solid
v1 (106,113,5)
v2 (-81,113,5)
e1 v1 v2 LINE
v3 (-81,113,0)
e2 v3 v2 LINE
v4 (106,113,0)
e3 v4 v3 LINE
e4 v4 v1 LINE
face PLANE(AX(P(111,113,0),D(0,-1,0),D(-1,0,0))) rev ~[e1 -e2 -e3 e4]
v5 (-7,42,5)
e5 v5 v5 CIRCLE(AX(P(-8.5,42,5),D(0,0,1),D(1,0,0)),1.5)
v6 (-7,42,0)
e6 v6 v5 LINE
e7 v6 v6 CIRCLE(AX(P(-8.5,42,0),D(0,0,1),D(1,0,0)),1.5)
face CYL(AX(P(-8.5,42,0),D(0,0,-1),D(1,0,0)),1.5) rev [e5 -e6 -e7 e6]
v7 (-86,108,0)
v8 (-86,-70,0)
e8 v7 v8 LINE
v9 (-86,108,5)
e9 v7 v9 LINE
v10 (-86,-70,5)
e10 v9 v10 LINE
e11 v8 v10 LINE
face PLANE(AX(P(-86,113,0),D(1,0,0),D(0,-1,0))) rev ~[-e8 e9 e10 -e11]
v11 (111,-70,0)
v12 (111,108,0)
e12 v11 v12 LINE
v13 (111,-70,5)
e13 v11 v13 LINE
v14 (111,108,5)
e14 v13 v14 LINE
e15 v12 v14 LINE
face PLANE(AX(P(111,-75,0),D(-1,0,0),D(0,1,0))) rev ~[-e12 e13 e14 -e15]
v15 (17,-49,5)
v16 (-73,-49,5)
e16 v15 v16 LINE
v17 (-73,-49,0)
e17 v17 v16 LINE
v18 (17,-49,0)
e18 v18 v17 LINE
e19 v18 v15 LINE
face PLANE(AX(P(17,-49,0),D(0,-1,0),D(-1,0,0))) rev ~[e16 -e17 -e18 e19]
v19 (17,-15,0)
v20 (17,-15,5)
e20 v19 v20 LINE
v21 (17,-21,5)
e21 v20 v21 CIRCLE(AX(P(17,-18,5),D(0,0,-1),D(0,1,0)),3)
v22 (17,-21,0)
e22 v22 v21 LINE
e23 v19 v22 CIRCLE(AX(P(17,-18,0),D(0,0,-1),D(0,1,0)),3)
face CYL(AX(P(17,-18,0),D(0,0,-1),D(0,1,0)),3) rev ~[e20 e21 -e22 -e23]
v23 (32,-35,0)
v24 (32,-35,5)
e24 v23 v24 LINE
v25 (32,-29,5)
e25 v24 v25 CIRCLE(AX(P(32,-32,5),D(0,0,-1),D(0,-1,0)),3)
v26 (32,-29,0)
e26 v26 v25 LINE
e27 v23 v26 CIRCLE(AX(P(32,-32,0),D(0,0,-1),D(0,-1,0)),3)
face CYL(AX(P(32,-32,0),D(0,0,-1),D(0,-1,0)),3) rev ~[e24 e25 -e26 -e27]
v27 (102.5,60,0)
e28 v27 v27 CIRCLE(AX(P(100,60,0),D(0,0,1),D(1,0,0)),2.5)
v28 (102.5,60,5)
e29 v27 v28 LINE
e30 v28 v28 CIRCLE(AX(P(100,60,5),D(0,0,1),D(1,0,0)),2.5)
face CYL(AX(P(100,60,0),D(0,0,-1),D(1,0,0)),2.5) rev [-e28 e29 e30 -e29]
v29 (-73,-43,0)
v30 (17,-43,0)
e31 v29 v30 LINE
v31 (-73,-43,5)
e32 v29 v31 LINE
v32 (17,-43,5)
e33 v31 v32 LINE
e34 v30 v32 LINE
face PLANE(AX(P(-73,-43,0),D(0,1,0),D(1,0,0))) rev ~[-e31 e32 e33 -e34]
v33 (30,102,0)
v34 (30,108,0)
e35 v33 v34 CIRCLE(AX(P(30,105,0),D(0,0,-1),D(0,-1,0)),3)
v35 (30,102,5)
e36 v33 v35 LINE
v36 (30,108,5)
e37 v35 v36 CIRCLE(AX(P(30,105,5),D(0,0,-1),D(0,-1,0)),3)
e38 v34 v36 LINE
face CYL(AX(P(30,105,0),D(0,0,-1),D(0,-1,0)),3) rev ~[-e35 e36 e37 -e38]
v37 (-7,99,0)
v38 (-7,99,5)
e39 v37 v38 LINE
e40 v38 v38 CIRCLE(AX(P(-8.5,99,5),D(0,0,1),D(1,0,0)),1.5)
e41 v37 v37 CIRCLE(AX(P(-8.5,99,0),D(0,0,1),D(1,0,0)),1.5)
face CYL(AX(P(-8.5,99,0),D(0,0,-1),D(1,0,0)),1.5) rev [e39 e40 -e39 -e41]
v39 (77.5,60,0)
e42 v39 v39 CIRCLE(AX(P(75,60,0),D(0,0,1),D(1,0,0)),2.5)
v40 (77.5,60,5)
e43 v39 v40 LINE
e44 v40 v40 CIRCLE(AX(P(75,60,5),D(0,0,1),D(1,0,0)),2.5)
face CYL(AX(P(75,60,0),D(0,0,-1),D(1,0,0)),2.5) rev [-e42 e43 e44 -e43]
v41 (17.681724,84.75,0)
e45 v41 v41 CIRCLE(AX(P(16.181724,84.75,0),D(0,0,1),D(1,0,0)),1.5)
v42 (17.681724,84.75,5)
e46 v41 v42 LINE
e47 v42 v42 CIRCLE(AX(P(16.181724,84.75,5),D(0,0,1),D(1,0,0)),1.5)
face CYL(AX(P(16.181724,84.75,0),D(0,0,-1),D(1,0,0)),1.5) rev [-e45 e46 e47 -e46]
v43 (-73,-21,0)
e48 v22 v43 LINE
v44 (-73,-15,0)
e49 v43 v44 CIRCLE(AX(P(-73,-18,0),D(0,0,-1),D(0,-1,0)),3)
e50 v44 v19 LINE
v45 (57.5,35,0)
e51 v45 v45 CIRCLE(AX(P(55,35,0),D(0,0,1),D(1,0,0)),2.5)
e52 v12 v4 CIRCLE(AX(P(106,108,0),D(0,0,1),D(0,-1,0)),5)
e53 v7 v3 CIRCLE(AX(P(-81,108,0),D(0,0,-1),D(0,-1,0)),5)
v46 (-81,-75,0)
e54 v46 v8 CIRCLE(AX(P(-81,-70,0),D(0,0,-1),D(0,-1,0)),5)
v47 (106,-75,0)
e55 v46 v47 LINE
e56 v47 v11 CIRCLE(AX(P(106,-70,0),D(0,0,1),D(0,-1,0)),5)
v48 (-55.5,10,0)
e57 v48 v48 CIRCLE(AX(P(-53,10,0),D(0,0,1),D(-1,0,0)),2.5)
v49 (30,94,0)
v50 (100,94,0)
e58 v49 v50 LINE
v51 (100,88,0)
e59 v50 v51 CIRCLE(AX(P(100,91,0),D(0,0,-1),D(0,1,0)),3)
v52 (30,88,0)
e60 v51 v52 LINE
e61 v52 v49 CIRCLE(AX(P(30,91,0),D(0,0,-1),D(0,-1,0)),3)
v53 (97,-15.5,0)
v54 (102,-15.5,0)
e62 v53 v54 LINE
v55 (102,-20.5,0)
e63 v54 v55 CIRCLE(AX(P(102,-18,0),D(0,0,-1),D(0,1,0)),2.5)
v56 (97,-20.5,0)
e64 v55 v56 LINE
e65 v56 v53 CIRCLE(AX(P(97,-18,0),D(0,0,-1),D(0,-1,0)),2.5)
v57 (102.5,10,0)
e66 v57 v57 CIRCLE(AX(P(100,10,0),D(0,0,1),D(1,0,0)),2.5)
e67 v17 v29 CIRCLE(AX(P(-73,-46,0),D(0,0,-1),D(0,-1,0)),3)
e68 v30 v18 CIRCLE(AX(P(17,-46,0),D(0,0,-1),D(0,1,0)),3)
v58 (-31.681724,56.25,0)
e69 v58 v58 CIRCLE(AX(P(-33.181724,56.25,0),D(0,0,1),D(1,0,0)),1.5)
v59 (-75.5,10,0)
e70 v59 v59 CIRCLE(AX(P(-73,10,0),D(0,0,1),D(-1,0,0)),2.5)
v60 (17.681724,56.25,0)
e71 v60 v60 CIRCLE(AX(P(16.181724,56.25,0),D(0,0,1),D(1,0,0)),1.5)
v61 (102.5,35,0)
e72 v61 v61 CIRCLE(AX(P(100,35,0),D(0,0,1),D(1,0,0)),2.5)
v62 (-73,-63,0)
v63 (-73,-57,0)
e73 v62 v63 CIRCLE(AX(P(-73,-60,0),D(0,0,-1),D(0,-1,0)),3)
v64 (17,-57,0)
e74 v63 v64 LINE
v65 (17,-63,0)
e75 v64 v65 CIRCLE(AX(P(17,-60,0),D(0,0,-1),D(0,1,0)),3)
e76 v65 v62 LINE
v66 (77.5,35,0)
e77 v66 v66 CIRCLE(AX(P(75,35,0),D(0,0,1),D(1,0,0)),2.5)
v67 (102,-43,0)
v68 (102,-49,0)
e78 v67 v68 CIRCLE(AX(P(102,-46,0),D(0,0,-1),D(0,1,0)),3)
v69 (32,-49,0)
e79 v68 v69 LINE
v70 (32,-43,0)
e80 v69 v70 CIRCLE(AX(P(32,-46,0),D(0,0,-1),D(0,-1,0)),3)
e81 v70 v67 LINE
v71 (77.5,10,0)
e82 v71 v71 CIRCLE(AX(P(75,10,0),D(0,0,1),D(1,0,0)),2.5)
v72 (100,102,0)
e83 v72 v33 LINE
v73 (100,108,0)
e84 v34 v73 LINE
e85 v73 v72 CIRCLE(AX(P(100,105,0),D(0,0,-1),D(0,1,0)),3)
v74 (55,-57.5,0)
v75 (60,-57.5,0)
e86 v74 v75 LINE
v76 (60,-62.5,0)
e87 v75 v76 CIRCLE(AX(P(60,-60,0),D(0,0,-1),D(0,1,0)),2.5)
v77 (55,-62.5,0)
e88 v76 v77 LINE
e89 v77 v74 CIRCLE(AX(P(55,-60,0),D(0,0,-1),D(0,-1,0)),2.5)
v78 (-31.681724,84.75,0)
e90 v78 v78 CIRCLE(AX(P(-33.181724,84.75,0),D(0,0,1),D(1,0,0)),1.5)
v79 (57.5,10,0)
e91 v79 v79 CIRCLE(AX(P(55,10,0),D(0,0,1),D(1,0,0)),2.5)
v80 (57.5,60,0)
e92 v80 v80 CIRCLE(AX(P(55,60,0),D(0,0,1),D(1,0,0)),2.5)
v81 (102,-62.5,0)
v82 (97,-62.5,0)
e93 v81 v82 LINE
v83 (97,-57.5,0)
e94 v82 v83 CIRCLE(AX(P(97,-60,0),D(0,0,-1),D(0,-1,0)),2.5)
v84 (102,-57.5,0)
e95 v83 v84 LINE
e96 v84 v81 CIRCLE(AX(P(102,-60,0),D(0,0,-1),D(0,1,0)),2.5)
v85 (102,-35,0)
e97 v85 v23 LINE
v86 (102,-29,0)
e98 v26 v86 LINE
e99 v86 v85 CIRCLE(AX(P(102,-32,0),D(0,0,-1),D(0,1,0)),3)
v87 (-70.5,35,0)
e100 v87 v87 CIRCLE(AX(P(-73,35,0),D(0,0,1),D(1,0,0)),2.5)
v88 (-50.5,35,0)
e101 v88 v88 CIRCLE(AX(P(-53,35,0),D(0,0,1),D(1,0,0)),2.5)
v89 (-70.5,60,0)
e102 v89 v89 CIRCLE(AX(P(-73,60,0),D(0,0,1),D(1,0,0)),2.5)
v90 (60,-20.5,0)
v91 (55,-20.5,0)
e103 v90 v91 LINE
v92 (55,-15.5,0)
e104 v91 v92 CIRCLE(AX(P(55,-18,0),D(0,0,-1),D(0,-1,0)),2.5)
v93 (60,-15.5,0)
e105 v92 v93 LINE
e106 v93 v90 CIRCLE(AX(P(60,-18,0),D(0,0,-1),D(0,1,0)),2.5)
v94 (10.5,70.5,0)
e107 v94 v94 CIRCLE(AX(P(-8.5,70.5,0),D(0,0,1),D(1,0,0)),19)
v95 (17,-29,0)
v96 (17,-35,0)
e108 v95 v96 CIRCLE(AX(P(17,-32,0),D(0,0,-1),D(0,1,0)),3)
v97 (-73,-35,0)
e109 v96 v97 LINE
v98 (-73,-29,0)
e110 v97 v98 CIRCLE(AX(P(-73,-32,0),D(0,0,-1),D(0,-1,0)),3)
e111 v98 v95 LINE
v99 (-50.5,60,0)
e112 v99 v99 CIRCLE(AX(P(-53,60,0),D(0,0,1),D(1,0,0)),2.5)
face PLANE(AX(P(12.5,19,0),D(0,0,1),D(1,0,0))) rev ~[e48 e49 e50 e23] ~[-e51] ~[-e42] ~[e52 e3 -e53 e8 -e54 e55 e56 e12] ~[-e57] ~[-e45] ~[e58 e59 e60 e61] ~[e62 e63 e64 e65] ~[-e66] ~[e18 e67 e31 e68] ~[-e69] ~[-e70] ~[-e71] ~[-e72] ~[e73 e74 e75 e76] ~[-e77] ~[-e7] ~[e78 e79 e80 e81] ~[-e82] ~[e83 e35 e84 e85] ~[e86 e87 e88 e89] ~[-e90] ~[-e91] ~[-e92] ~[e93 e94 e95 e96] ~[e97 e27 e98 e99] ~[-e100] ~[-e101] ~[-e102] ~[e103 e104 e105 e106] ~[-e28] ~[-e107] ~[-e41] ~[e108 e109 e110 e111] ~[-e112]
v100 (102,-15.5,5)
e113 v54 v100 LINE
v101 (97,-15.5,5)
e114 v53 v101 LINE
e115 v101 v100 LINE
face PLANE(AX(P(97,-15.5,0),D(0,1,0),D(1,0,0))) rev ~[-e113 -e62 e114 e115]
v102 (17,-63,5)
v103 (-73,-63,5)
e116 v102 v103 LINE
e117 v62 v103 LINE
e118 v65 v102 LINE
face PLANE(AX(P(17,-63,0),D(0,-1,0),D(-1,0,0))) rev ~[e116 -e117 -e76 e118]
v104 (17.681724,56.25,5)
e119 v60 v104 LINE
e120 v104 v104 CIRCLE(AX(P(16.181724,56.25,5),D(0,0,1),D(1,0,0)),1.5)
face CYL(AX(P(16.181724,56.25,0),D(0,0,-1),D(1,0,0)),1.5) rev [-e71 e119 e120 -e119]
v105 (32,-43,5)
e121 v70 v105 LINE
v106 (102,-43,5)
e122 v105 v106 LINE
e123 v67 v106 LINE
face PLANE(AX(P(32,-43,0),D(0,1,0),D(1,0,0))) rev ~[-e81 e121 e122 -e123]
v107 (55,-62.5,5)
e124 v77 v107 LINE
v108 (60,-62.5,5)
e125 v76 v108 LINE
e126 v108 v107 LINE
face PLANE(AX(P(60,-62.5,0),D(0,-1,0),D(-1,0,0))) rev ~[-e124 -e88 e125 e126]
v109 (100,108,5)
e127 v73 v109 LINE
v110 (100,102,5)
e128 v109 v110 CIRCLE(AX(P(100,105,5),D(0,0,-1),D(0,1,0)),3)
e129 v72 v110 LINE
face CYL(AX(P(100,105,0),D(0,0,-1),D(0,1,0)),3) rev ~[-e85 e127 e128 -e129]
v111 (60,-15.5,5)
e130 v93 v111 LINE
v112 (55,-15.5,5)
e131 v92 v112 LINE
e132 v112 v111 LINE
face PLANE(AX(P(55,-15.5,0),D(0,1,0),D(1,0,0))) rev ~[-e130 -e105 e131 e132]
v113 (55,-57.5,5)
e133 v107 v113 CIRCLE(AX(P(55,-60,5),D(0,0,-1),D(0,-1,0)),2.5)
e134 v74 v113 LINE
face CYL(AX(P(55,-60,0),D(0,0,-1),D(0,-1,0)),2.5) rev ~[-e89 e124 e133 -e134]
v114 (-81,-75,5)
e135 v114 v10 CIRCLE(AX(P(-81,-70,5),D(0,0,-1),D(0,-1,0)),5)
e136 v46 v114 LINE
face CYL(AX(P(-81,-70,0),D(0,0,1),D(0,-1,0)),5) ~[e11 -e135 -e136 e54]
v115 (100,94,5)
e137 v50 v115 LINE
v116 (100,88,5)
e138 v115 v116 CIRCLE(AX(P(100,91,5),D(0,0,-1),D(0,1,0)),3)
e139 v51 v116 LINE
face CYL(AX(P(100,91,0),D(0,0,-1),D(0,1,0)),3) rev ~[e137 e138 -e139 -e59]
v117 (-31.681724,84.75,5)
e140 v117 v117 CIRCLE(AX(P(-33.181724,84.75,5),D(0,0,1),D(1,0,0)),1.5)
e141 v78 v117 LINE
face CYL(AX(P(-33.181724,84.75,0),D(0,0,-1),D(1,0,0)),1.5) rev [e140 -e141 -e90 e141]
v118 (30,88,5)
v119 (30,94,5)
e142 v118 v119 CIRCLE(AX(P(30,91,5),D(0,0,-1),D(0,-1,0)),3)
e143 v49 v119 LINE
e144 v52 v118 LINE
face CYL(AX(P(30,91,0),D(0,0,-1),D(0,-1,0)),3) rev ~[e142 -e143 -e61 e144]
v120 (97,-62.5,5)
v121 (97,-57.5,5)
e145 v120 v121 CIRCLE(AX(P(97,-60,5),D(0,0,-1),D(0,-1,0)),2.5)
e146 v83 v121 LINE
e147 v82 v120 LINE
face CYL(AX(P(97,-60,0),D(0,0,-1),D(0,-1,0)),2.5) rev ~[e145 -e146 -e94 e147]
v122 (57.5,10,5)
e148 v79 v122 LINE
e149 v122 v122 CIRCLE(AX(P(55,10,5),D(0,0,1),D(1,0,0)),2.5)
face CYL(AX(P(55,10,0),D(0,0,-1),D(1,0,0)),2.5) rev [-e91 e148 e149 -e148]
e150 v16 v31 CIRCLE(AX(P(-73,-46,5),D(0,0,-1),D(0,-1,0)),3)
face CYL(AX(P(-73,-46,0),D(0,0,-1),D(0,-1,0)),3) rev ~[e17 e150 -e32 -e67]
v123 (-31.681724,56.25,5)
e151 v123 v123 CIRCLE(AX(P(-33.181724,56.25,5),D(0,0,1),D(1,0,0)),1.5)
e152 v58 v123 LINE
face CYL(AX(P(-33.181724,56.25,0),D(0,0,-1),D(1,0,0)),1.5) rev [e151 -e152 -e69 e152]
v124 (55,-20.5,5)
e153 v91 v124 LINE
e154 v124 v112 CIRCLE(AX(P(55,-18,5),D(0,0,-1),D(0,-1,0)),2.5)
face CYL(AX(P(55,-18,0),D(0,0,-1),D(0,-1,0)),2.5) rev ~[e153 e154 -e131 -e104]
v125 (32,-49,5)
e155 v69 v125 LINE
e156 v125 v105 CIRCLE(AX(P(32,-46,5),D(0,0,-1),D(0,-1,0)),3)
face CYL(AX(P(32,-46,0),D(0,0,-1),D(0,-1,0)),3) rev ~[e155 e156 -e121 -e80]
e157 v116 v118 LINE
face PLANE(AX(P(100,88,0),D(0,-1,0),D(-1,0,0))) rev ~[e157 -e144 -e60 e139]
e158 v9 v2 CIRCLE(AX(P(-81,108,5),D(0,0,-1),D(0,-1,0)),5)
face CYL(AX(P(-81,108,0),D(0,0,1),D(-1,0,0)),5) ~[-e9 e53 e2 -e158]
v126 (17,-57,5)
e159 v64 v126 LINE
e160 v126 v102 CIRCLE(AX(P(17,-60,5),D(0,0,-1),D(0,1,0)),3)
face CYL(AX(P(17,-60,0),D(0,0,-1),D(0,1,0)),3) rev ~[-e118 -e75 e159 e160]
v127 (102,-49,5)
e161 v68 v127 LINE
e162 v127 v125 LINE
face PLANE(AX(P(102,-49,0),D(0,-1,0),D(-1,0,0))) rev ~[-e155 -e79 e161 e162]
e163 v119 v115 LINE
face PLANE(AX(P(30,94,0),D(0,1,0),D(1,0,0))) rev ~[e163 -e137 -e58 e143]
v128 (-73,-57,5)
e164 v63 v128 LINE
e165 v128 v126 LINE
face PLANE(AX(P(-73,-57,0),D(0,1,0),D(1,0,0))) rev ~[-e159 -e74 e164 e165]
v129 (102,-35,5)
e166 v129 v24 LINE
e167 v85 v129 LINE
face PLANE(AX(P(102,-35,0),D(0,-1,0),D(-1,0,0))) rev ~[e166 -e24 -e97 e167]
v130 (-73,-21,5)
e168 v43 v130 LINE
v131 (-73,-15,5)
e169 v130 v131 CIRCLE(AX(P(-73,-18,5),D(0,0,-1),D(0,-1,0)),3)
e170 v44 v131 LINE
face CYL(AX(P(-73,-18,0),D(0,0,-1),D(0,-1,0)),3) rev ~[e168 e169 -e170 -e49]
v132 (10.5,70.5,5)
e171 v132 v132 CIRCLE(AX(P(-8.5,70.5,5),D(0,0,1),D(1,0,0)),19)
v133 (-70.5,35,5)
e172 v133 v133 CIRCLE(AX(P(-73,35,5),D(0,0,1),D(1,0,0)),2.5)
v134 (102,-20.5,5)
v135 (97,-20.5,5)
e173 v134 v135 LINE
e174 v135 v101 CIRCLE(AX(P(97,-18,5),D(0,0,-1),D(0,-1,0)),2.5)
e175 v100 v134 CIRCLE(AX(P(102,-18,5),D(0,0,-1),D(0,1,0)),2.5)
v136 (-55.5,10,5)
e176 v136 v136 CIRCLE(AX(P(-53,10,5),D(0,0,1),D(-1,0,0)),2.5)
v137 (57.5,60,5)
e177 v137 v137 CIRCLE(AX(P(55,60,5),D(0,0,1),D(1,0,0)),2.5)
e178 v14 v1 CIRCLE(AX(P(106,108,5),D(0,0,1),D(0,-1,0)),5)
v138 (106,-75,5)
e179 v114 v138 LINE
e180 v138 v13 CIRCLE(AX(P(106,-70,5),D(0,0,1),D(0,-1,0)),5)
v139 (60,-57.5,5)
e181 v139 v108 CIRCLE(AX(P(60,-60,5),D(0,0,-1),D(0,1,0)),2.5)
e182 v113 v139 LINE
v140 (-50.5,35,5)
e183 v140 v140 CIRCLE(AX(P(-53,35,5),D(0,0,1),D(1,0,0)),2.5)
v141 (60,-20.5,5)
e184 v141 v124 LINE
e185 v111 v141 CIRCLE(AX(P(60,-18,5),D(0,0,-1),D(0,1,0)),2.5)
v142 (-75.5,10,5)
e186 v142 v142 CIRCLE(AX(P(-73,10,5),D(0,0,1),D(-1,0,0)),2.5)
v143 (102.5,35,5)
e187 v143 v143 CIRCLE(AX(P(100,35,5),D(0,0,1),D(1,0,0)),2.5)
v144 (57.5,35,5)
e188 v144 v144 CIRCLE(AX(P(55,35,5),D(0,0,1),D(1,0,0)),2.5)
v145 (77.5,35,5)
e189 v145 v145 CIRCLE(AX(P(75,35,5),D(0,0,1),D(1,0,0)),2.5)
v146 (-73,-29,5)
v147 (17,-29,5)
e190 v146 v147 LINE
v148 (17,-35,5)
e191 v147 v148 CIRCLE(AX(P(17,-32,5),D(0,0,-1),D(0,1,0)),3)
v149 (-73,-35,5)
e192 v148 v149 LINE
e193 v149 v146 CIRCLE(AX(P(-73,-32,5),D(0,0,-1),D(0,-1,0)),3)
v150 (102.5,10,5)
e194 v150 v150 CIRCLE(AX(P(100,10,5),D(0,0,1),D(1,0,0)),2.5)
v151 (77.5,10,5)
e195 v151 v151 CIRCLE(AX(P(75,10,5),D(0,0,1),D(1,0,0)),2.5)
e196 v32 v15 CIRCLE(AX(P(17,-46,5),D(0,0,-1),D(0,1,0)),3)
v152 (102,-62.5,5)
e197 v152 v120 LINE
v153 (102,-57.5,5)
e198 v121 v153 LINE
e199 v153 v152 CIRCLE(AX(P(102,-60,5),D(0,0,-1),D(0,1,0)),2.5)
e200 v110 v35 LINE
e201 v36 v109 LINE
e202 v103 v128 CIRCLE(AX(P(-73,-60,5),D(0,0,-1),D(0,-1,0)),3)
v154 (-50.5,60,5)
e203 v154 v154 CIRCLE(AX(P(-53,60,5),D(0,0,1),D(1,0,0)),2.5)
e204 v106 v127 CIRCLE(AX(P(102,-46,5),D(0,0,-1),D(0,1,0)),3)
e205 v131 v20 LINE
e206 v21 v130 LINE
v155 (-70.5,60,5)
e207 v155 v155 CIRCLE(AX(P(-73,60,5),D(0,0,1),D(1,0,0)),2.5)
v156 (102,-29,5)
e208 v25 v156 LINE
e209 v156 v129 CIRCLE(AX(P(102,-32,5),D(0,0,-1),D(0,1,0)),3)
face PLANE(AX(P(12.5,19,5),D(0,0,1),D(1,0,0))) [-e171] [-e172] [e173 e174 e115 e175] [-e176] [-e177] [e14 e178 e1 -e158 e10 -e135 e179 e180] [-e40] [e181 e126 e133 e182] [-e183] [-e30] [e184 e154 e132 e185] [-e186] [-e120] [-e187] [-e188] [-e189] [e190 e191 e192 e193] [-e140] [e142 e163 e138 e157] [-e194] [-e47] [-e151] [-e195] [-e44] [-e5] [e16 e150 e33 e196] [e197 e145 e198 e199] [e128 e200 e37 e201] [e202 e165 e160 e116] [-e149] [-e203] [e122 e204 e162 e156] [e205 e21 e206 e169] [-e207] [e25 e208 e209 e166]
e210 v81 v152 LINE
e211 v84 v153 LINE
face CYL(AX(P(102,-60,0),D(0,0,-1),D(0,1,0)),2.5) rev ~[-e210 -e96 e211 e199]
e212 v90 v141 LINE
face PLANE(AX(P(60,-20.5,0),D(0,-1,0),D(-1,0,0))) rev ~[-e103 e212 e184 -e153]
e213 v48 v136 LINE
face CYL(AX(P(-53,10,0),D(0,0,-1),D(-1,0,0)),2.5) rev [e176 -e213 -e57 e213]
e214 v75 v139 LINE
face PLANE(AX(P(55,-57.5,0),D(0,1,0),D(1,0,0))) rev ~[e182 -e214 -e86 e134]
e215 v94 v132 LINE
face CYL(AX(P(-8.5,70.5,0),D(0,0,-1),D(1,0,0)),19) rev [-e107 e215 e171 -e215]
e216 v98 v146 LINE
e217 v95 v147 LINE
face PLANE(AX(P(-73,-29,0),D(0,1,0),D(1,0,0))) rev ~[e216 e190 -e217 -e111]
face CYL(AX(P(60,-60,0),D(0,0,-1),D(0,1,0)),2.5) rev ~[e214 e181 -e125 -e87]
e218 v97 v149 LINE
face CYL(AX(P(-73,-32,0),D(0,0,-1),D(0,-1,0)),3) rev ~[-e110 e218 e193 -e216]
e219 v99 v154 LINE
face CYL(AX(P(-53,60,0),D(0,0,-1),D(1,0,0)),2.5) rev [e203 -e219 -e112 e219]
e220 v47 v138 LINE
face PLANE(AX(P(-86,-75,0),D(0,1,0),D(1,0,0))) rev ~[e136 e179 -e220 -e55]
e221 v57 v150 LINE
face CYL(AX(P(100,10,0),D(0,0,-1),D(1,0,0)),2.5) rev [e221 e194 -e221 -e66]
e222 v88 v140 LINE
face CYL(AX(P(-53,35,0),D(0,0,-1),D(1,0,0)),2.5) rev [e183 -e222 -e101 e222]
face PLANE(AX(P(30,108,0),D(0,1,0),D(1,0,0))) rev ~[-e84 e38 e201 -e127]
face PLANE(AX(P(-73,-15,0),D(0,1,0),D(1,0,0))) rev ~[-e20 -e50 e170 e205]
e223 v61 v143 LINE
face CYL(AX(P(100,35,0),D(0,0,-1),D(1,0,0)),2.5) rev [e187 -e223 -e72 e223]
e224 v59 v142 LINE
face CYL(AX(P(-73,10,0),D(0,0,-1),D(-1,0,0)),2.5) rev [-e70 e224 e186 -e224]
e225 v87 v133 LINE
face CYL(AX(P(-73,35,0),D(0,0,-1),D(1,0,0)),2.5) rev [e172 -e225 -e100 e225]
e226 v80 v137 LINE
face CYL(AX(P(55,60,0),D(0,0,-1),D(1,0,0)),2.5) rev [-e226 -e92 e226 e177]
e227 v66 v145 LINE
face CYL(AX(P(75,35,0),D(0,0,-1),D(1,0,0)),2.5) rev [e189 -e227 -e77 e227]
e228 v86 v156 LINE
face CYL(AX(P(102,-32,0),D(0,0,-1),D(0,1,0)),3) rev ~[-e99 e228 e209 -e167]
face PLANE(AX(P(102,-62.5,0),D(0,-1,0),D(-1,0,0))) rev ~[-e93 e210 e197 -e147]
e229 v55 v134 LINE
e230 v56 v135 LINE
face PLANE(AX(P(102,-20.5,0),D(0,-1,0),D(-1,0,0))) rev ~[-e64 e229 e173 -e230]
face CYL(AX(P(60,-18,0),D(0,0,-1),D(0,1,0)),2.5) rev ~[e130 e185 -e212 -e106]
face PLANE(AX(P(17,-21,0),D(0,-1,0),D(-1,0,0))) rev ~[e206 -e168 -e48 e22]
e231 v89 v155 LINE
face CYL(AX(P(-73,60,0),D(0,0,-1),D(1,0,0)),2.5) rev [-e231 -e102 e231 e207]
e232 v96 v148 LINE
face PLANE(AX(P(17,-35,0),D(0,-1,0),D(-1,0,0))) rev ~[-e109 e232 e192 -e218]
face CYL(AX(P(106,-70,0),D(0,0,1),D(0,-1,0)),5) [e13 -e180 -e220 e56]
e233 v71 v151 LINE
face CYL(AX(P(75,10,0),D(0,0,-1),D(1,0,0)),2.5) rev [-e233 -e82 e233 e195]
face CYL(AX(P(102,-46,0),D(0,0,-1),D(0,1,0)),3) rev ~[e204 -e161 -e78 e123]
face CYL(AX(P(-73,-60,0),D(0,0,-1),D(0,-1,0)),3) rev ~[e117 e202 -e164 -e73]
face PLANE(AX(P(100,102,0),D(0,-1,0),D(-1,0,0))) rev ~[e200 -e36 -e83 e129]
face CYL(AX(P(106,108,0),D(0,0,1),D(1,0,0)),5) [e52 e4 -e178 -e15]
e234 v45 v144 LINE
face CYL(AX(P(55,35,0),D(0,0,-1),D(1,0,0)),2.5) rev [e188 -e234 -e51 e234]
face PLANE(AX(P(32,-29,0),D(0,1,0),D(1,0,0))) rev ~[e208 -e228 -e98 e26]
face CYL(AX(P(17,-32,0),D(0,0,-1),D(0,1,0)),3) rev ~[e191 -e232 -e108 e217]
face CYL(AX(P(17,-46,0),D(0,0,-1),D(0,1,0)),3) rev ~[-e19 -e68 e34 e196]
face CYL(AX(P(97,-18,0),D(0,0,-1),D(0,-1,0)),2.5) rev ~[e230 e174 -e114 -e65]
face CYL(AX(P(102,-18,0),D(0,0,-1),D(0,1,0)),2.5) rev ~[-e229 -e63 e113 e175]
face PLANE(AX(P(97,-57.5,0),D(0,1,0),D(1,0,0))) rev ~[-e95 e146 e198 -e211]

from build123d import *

# Parameters (mm, degrees)
SKETCH_1_R      = 2.5
SKETCH_1_R_2    = 1.5
SKETCH_1_R_3    = 19
EXTRUDE_1_DEPTH = 5
FILLET_1_R      = 5


with BuildPart() as part:
    # 草图1 → 凸台-拉伸1 (new body)
    with BuildSketch(Plane.XY):
        Polygon((-86, 75), (-86, -75), (86, -75), (111, -75), (111, 75), (111, 113), (-86, 113), align=None)
        with Locations((-73, 60)):
            Circle(SKETCH_1_R, mode=Mode.SUBTRACT)
        with Locations((-53, 60)):
            Circle(SKETCH_1_R, mode=Mode.SUBTRACT)
        with Locations((-73, 35)):
            Circle(SKETCH_1_R, mode=Mode.SUBTRACT)
        with Locations(Location((-53, 10, 0), (0, 0, 180))):
            Circle(SKETCH_1_R, mode=Mode.SUBTRACT)
        with Locations(Location((-73, 10, 0), (0, 0, 180))):
            Circle(SKETCH_1_R, mode=Mode.SUBTRACT)
        with Locations((75, 60)):
            Circle(SKETCH_1_R, mode=Mode.SUBTRACT)
        with Locations((75, 35)):
            Circle(SKETCH_1_R, mode=Mode.SUBTRACT)
        with Locations((75, 10)):
            Circle(SKETCH_1_R, mode=Mode.SUBTRACT)
        with Locations((55, 60)):
            Circle(SKETCH_1_R, mode=Mode.SUBTRACT)
        with Locations((55, 35)):
            Circle(SKETCH_1_R, mode=Mode.SUBTRACT)
        with Locations((55, 10)):
            Circle(SKETCH_1_R, mode=Mode.SUBTRACT)
        with Locations((-53, 35)):
            Circle(SKETCH_1_R, mode=Mode.SUBTRACT)
        with Locations((100, 60)):
            Circle(SKETCH_1_R, mode=Mode.SUBTRACT)
        with Locations((100, 35)):
            Circle(SKETCH_1_R, mode=Mode.SUBTRACT)
        with Locations((100, 10)):
            Circle(SKETCH_1_R, mode=Mode.SUBTRACT)
        with Locations((-8.5, 99)):
            Circle(SKETCH_1_R_2, mode=Mode.SUBTRACT)
        with Locations((16.181724008, 84.75)):
            Circle(SKETCH_1_R_2, mode=Mode.SUBTRACT)
        with Locations((16.181724008, 56.25)):
            Circle(SKETCH_1_R_2, mode=Mode.SUBTRACT)
        with Locations((-8.5, 42)):
            Circle(SKETCH_1_R_2, mode=Mode.SUBTRACT)
        with Locations((-33.181724008, 56.25)):
            Circle(SKETCH_1_R_2, mode=Mode.SUBTRACT)
        with Locations((-33.181724008, 84.75)):
            Circle(SKETCH_1_R_2, mode=Mode.SUBTRACT)
        with Locations((-8.5, 70.5)):
            Circle(SKETCH_1_R_3, mode=Mode.SUBTRACT)
        with BuildLine():
            Line((55, -15.5), (60, -15.5))
            ThreePointArc((60, -15.5), (62.5, -18), (60, -20.5))
            Line((60, -20.5), (55, -20.5))
            ThreePointArc((55, -20.5), (52.5, -18), (55, -15.5))
        make_face(mode=Mode.SUBTRACT)
        with BuildLine():
            Line((55, -57.5), (60, -57.5))
            ThreePointArc((60, -57.5), (62.5, -60), (60, -62.5))
            Line((60, -62.5), (55, -62.5))
            ThreePointArc((55, -62.5), (52.5, -60), (55, -57.5))
        make_face(mode=Mode.SUBTRACT)
        with BuildLine():
            Line((97, -15.5), (102, -15.5))
            ThreePointArc((102, -15.5), (104.5, -18), (102, -20.5))
            Line((102, -20.5), (97, -20.5))
            ThreePointArc((97, -20.5), (94.5, -18), (97, -15.5))
        make_face(mode=Mode.SUBTRACT)
        with BuildLine():
            Line((97, -57.5), (102, -57.5))
            ThreePointArc((102, -57.5), (104.5, -60), (102, -62.5))
            Line((102, -62.5), (97, -62.5))
            ThreePointArc((97, -62.5), (94.5, -60), (97, -57.5))
        make_face(mode=Mode.SUBTRACT)
        with BuildLine():
            Line((-73, -15), (17, -15))
            ThreePointArc((17, -15), (20, -18), (17, -21))
            Line((17, -21), (-73, -21))
            ThreePointArc((-73, -21), (-76, -18), (-73, -15))
        make_face(mode=Mode.SUBTRACT)
        with BuildLine():
            Line((-73, -57), (17, -57))
            ThreePointArc((17, -57), (20, -60), (17, -63))
            Line((17, -63), (-73, -63))
            ThreePointArc((-73, -63), (-76, -60), (-73, -57))
        make_face(mode=Mode.SUBTRACT)
        with BuildLine():
            Line((-73, -29), (17, -29))
            ThreePointArc((17, -29), (20, -32), (17, -35))
            Line((17, -35), (-73, -35))
            ThreePointArc((-73, -35), (-76, -32), (-73, -29))
        make_face(mode=Mode.SUBTRACT)
        with BuildLine():
            Line((-73, -43), (17, -43))
            ThreePointArc((17, -43), (20, -46), (17, -49))
            Line((17, -49), (-73, -49))
            ThreePointArc((-73, -49), (-76, -46), (-73, -43))
        make_face(mode=Mode.SUBTRACT)
        with BuildLine():
            Line((100, 102), (30, 102))
            ThreePointArc((30, 102), (27, 105), (30, 108))
            Line((30, 108), (100, 108))
            ThreePointArc((100, 108), (103, 105), (100, 102))
        make_face(mode=Mode.SUBTRACT)
        with BuildLine():
            Line((100, 88), (30, 88))
            ThreePointArc((30, 88), (27, 91), (30, 94))
            Line((30, 94), (100, 94))
            ThreePointArc((100, 94), (103, 91), (100, 88))
        make_face(mode=Mode.SUBTRACT)
        with BuildLine():
            Line((102, -35), (32, -35))
            ThreePointArc((32, -35), (29, -32), (32, -29))
            Line((32, -29), (102, -29))
            ThreePointArc((102, -29), (105, -32), (102, -35))
        make_face(mode=Mode.SUBTRACT)
        with BuildLine():
            Line((102, -49), (32, -49))
            ThreePointArc((32, -49), (29, -46), (32, -43))
            Line((32, -43), (102, -43))
            ThreePointArc((102, -43), (105, -46), (102, -49))
        make_face(mode=Mode.SUBTRACT)
    extrude(amount=EXTRUDE_1_DEPTH)

    # 圆角1
    fillet_1_edges = [part.edges().sort_by_distance(p)[0] for p in [
        (-86, 113, 2.5),
        (111, 113, 2.5),
        (111, -75, 2.5),
        (-86, -75, 2.5),
    ]]
    fillet(fillet_1_edges, radius=FILLET_1_R)


solid = part.part
